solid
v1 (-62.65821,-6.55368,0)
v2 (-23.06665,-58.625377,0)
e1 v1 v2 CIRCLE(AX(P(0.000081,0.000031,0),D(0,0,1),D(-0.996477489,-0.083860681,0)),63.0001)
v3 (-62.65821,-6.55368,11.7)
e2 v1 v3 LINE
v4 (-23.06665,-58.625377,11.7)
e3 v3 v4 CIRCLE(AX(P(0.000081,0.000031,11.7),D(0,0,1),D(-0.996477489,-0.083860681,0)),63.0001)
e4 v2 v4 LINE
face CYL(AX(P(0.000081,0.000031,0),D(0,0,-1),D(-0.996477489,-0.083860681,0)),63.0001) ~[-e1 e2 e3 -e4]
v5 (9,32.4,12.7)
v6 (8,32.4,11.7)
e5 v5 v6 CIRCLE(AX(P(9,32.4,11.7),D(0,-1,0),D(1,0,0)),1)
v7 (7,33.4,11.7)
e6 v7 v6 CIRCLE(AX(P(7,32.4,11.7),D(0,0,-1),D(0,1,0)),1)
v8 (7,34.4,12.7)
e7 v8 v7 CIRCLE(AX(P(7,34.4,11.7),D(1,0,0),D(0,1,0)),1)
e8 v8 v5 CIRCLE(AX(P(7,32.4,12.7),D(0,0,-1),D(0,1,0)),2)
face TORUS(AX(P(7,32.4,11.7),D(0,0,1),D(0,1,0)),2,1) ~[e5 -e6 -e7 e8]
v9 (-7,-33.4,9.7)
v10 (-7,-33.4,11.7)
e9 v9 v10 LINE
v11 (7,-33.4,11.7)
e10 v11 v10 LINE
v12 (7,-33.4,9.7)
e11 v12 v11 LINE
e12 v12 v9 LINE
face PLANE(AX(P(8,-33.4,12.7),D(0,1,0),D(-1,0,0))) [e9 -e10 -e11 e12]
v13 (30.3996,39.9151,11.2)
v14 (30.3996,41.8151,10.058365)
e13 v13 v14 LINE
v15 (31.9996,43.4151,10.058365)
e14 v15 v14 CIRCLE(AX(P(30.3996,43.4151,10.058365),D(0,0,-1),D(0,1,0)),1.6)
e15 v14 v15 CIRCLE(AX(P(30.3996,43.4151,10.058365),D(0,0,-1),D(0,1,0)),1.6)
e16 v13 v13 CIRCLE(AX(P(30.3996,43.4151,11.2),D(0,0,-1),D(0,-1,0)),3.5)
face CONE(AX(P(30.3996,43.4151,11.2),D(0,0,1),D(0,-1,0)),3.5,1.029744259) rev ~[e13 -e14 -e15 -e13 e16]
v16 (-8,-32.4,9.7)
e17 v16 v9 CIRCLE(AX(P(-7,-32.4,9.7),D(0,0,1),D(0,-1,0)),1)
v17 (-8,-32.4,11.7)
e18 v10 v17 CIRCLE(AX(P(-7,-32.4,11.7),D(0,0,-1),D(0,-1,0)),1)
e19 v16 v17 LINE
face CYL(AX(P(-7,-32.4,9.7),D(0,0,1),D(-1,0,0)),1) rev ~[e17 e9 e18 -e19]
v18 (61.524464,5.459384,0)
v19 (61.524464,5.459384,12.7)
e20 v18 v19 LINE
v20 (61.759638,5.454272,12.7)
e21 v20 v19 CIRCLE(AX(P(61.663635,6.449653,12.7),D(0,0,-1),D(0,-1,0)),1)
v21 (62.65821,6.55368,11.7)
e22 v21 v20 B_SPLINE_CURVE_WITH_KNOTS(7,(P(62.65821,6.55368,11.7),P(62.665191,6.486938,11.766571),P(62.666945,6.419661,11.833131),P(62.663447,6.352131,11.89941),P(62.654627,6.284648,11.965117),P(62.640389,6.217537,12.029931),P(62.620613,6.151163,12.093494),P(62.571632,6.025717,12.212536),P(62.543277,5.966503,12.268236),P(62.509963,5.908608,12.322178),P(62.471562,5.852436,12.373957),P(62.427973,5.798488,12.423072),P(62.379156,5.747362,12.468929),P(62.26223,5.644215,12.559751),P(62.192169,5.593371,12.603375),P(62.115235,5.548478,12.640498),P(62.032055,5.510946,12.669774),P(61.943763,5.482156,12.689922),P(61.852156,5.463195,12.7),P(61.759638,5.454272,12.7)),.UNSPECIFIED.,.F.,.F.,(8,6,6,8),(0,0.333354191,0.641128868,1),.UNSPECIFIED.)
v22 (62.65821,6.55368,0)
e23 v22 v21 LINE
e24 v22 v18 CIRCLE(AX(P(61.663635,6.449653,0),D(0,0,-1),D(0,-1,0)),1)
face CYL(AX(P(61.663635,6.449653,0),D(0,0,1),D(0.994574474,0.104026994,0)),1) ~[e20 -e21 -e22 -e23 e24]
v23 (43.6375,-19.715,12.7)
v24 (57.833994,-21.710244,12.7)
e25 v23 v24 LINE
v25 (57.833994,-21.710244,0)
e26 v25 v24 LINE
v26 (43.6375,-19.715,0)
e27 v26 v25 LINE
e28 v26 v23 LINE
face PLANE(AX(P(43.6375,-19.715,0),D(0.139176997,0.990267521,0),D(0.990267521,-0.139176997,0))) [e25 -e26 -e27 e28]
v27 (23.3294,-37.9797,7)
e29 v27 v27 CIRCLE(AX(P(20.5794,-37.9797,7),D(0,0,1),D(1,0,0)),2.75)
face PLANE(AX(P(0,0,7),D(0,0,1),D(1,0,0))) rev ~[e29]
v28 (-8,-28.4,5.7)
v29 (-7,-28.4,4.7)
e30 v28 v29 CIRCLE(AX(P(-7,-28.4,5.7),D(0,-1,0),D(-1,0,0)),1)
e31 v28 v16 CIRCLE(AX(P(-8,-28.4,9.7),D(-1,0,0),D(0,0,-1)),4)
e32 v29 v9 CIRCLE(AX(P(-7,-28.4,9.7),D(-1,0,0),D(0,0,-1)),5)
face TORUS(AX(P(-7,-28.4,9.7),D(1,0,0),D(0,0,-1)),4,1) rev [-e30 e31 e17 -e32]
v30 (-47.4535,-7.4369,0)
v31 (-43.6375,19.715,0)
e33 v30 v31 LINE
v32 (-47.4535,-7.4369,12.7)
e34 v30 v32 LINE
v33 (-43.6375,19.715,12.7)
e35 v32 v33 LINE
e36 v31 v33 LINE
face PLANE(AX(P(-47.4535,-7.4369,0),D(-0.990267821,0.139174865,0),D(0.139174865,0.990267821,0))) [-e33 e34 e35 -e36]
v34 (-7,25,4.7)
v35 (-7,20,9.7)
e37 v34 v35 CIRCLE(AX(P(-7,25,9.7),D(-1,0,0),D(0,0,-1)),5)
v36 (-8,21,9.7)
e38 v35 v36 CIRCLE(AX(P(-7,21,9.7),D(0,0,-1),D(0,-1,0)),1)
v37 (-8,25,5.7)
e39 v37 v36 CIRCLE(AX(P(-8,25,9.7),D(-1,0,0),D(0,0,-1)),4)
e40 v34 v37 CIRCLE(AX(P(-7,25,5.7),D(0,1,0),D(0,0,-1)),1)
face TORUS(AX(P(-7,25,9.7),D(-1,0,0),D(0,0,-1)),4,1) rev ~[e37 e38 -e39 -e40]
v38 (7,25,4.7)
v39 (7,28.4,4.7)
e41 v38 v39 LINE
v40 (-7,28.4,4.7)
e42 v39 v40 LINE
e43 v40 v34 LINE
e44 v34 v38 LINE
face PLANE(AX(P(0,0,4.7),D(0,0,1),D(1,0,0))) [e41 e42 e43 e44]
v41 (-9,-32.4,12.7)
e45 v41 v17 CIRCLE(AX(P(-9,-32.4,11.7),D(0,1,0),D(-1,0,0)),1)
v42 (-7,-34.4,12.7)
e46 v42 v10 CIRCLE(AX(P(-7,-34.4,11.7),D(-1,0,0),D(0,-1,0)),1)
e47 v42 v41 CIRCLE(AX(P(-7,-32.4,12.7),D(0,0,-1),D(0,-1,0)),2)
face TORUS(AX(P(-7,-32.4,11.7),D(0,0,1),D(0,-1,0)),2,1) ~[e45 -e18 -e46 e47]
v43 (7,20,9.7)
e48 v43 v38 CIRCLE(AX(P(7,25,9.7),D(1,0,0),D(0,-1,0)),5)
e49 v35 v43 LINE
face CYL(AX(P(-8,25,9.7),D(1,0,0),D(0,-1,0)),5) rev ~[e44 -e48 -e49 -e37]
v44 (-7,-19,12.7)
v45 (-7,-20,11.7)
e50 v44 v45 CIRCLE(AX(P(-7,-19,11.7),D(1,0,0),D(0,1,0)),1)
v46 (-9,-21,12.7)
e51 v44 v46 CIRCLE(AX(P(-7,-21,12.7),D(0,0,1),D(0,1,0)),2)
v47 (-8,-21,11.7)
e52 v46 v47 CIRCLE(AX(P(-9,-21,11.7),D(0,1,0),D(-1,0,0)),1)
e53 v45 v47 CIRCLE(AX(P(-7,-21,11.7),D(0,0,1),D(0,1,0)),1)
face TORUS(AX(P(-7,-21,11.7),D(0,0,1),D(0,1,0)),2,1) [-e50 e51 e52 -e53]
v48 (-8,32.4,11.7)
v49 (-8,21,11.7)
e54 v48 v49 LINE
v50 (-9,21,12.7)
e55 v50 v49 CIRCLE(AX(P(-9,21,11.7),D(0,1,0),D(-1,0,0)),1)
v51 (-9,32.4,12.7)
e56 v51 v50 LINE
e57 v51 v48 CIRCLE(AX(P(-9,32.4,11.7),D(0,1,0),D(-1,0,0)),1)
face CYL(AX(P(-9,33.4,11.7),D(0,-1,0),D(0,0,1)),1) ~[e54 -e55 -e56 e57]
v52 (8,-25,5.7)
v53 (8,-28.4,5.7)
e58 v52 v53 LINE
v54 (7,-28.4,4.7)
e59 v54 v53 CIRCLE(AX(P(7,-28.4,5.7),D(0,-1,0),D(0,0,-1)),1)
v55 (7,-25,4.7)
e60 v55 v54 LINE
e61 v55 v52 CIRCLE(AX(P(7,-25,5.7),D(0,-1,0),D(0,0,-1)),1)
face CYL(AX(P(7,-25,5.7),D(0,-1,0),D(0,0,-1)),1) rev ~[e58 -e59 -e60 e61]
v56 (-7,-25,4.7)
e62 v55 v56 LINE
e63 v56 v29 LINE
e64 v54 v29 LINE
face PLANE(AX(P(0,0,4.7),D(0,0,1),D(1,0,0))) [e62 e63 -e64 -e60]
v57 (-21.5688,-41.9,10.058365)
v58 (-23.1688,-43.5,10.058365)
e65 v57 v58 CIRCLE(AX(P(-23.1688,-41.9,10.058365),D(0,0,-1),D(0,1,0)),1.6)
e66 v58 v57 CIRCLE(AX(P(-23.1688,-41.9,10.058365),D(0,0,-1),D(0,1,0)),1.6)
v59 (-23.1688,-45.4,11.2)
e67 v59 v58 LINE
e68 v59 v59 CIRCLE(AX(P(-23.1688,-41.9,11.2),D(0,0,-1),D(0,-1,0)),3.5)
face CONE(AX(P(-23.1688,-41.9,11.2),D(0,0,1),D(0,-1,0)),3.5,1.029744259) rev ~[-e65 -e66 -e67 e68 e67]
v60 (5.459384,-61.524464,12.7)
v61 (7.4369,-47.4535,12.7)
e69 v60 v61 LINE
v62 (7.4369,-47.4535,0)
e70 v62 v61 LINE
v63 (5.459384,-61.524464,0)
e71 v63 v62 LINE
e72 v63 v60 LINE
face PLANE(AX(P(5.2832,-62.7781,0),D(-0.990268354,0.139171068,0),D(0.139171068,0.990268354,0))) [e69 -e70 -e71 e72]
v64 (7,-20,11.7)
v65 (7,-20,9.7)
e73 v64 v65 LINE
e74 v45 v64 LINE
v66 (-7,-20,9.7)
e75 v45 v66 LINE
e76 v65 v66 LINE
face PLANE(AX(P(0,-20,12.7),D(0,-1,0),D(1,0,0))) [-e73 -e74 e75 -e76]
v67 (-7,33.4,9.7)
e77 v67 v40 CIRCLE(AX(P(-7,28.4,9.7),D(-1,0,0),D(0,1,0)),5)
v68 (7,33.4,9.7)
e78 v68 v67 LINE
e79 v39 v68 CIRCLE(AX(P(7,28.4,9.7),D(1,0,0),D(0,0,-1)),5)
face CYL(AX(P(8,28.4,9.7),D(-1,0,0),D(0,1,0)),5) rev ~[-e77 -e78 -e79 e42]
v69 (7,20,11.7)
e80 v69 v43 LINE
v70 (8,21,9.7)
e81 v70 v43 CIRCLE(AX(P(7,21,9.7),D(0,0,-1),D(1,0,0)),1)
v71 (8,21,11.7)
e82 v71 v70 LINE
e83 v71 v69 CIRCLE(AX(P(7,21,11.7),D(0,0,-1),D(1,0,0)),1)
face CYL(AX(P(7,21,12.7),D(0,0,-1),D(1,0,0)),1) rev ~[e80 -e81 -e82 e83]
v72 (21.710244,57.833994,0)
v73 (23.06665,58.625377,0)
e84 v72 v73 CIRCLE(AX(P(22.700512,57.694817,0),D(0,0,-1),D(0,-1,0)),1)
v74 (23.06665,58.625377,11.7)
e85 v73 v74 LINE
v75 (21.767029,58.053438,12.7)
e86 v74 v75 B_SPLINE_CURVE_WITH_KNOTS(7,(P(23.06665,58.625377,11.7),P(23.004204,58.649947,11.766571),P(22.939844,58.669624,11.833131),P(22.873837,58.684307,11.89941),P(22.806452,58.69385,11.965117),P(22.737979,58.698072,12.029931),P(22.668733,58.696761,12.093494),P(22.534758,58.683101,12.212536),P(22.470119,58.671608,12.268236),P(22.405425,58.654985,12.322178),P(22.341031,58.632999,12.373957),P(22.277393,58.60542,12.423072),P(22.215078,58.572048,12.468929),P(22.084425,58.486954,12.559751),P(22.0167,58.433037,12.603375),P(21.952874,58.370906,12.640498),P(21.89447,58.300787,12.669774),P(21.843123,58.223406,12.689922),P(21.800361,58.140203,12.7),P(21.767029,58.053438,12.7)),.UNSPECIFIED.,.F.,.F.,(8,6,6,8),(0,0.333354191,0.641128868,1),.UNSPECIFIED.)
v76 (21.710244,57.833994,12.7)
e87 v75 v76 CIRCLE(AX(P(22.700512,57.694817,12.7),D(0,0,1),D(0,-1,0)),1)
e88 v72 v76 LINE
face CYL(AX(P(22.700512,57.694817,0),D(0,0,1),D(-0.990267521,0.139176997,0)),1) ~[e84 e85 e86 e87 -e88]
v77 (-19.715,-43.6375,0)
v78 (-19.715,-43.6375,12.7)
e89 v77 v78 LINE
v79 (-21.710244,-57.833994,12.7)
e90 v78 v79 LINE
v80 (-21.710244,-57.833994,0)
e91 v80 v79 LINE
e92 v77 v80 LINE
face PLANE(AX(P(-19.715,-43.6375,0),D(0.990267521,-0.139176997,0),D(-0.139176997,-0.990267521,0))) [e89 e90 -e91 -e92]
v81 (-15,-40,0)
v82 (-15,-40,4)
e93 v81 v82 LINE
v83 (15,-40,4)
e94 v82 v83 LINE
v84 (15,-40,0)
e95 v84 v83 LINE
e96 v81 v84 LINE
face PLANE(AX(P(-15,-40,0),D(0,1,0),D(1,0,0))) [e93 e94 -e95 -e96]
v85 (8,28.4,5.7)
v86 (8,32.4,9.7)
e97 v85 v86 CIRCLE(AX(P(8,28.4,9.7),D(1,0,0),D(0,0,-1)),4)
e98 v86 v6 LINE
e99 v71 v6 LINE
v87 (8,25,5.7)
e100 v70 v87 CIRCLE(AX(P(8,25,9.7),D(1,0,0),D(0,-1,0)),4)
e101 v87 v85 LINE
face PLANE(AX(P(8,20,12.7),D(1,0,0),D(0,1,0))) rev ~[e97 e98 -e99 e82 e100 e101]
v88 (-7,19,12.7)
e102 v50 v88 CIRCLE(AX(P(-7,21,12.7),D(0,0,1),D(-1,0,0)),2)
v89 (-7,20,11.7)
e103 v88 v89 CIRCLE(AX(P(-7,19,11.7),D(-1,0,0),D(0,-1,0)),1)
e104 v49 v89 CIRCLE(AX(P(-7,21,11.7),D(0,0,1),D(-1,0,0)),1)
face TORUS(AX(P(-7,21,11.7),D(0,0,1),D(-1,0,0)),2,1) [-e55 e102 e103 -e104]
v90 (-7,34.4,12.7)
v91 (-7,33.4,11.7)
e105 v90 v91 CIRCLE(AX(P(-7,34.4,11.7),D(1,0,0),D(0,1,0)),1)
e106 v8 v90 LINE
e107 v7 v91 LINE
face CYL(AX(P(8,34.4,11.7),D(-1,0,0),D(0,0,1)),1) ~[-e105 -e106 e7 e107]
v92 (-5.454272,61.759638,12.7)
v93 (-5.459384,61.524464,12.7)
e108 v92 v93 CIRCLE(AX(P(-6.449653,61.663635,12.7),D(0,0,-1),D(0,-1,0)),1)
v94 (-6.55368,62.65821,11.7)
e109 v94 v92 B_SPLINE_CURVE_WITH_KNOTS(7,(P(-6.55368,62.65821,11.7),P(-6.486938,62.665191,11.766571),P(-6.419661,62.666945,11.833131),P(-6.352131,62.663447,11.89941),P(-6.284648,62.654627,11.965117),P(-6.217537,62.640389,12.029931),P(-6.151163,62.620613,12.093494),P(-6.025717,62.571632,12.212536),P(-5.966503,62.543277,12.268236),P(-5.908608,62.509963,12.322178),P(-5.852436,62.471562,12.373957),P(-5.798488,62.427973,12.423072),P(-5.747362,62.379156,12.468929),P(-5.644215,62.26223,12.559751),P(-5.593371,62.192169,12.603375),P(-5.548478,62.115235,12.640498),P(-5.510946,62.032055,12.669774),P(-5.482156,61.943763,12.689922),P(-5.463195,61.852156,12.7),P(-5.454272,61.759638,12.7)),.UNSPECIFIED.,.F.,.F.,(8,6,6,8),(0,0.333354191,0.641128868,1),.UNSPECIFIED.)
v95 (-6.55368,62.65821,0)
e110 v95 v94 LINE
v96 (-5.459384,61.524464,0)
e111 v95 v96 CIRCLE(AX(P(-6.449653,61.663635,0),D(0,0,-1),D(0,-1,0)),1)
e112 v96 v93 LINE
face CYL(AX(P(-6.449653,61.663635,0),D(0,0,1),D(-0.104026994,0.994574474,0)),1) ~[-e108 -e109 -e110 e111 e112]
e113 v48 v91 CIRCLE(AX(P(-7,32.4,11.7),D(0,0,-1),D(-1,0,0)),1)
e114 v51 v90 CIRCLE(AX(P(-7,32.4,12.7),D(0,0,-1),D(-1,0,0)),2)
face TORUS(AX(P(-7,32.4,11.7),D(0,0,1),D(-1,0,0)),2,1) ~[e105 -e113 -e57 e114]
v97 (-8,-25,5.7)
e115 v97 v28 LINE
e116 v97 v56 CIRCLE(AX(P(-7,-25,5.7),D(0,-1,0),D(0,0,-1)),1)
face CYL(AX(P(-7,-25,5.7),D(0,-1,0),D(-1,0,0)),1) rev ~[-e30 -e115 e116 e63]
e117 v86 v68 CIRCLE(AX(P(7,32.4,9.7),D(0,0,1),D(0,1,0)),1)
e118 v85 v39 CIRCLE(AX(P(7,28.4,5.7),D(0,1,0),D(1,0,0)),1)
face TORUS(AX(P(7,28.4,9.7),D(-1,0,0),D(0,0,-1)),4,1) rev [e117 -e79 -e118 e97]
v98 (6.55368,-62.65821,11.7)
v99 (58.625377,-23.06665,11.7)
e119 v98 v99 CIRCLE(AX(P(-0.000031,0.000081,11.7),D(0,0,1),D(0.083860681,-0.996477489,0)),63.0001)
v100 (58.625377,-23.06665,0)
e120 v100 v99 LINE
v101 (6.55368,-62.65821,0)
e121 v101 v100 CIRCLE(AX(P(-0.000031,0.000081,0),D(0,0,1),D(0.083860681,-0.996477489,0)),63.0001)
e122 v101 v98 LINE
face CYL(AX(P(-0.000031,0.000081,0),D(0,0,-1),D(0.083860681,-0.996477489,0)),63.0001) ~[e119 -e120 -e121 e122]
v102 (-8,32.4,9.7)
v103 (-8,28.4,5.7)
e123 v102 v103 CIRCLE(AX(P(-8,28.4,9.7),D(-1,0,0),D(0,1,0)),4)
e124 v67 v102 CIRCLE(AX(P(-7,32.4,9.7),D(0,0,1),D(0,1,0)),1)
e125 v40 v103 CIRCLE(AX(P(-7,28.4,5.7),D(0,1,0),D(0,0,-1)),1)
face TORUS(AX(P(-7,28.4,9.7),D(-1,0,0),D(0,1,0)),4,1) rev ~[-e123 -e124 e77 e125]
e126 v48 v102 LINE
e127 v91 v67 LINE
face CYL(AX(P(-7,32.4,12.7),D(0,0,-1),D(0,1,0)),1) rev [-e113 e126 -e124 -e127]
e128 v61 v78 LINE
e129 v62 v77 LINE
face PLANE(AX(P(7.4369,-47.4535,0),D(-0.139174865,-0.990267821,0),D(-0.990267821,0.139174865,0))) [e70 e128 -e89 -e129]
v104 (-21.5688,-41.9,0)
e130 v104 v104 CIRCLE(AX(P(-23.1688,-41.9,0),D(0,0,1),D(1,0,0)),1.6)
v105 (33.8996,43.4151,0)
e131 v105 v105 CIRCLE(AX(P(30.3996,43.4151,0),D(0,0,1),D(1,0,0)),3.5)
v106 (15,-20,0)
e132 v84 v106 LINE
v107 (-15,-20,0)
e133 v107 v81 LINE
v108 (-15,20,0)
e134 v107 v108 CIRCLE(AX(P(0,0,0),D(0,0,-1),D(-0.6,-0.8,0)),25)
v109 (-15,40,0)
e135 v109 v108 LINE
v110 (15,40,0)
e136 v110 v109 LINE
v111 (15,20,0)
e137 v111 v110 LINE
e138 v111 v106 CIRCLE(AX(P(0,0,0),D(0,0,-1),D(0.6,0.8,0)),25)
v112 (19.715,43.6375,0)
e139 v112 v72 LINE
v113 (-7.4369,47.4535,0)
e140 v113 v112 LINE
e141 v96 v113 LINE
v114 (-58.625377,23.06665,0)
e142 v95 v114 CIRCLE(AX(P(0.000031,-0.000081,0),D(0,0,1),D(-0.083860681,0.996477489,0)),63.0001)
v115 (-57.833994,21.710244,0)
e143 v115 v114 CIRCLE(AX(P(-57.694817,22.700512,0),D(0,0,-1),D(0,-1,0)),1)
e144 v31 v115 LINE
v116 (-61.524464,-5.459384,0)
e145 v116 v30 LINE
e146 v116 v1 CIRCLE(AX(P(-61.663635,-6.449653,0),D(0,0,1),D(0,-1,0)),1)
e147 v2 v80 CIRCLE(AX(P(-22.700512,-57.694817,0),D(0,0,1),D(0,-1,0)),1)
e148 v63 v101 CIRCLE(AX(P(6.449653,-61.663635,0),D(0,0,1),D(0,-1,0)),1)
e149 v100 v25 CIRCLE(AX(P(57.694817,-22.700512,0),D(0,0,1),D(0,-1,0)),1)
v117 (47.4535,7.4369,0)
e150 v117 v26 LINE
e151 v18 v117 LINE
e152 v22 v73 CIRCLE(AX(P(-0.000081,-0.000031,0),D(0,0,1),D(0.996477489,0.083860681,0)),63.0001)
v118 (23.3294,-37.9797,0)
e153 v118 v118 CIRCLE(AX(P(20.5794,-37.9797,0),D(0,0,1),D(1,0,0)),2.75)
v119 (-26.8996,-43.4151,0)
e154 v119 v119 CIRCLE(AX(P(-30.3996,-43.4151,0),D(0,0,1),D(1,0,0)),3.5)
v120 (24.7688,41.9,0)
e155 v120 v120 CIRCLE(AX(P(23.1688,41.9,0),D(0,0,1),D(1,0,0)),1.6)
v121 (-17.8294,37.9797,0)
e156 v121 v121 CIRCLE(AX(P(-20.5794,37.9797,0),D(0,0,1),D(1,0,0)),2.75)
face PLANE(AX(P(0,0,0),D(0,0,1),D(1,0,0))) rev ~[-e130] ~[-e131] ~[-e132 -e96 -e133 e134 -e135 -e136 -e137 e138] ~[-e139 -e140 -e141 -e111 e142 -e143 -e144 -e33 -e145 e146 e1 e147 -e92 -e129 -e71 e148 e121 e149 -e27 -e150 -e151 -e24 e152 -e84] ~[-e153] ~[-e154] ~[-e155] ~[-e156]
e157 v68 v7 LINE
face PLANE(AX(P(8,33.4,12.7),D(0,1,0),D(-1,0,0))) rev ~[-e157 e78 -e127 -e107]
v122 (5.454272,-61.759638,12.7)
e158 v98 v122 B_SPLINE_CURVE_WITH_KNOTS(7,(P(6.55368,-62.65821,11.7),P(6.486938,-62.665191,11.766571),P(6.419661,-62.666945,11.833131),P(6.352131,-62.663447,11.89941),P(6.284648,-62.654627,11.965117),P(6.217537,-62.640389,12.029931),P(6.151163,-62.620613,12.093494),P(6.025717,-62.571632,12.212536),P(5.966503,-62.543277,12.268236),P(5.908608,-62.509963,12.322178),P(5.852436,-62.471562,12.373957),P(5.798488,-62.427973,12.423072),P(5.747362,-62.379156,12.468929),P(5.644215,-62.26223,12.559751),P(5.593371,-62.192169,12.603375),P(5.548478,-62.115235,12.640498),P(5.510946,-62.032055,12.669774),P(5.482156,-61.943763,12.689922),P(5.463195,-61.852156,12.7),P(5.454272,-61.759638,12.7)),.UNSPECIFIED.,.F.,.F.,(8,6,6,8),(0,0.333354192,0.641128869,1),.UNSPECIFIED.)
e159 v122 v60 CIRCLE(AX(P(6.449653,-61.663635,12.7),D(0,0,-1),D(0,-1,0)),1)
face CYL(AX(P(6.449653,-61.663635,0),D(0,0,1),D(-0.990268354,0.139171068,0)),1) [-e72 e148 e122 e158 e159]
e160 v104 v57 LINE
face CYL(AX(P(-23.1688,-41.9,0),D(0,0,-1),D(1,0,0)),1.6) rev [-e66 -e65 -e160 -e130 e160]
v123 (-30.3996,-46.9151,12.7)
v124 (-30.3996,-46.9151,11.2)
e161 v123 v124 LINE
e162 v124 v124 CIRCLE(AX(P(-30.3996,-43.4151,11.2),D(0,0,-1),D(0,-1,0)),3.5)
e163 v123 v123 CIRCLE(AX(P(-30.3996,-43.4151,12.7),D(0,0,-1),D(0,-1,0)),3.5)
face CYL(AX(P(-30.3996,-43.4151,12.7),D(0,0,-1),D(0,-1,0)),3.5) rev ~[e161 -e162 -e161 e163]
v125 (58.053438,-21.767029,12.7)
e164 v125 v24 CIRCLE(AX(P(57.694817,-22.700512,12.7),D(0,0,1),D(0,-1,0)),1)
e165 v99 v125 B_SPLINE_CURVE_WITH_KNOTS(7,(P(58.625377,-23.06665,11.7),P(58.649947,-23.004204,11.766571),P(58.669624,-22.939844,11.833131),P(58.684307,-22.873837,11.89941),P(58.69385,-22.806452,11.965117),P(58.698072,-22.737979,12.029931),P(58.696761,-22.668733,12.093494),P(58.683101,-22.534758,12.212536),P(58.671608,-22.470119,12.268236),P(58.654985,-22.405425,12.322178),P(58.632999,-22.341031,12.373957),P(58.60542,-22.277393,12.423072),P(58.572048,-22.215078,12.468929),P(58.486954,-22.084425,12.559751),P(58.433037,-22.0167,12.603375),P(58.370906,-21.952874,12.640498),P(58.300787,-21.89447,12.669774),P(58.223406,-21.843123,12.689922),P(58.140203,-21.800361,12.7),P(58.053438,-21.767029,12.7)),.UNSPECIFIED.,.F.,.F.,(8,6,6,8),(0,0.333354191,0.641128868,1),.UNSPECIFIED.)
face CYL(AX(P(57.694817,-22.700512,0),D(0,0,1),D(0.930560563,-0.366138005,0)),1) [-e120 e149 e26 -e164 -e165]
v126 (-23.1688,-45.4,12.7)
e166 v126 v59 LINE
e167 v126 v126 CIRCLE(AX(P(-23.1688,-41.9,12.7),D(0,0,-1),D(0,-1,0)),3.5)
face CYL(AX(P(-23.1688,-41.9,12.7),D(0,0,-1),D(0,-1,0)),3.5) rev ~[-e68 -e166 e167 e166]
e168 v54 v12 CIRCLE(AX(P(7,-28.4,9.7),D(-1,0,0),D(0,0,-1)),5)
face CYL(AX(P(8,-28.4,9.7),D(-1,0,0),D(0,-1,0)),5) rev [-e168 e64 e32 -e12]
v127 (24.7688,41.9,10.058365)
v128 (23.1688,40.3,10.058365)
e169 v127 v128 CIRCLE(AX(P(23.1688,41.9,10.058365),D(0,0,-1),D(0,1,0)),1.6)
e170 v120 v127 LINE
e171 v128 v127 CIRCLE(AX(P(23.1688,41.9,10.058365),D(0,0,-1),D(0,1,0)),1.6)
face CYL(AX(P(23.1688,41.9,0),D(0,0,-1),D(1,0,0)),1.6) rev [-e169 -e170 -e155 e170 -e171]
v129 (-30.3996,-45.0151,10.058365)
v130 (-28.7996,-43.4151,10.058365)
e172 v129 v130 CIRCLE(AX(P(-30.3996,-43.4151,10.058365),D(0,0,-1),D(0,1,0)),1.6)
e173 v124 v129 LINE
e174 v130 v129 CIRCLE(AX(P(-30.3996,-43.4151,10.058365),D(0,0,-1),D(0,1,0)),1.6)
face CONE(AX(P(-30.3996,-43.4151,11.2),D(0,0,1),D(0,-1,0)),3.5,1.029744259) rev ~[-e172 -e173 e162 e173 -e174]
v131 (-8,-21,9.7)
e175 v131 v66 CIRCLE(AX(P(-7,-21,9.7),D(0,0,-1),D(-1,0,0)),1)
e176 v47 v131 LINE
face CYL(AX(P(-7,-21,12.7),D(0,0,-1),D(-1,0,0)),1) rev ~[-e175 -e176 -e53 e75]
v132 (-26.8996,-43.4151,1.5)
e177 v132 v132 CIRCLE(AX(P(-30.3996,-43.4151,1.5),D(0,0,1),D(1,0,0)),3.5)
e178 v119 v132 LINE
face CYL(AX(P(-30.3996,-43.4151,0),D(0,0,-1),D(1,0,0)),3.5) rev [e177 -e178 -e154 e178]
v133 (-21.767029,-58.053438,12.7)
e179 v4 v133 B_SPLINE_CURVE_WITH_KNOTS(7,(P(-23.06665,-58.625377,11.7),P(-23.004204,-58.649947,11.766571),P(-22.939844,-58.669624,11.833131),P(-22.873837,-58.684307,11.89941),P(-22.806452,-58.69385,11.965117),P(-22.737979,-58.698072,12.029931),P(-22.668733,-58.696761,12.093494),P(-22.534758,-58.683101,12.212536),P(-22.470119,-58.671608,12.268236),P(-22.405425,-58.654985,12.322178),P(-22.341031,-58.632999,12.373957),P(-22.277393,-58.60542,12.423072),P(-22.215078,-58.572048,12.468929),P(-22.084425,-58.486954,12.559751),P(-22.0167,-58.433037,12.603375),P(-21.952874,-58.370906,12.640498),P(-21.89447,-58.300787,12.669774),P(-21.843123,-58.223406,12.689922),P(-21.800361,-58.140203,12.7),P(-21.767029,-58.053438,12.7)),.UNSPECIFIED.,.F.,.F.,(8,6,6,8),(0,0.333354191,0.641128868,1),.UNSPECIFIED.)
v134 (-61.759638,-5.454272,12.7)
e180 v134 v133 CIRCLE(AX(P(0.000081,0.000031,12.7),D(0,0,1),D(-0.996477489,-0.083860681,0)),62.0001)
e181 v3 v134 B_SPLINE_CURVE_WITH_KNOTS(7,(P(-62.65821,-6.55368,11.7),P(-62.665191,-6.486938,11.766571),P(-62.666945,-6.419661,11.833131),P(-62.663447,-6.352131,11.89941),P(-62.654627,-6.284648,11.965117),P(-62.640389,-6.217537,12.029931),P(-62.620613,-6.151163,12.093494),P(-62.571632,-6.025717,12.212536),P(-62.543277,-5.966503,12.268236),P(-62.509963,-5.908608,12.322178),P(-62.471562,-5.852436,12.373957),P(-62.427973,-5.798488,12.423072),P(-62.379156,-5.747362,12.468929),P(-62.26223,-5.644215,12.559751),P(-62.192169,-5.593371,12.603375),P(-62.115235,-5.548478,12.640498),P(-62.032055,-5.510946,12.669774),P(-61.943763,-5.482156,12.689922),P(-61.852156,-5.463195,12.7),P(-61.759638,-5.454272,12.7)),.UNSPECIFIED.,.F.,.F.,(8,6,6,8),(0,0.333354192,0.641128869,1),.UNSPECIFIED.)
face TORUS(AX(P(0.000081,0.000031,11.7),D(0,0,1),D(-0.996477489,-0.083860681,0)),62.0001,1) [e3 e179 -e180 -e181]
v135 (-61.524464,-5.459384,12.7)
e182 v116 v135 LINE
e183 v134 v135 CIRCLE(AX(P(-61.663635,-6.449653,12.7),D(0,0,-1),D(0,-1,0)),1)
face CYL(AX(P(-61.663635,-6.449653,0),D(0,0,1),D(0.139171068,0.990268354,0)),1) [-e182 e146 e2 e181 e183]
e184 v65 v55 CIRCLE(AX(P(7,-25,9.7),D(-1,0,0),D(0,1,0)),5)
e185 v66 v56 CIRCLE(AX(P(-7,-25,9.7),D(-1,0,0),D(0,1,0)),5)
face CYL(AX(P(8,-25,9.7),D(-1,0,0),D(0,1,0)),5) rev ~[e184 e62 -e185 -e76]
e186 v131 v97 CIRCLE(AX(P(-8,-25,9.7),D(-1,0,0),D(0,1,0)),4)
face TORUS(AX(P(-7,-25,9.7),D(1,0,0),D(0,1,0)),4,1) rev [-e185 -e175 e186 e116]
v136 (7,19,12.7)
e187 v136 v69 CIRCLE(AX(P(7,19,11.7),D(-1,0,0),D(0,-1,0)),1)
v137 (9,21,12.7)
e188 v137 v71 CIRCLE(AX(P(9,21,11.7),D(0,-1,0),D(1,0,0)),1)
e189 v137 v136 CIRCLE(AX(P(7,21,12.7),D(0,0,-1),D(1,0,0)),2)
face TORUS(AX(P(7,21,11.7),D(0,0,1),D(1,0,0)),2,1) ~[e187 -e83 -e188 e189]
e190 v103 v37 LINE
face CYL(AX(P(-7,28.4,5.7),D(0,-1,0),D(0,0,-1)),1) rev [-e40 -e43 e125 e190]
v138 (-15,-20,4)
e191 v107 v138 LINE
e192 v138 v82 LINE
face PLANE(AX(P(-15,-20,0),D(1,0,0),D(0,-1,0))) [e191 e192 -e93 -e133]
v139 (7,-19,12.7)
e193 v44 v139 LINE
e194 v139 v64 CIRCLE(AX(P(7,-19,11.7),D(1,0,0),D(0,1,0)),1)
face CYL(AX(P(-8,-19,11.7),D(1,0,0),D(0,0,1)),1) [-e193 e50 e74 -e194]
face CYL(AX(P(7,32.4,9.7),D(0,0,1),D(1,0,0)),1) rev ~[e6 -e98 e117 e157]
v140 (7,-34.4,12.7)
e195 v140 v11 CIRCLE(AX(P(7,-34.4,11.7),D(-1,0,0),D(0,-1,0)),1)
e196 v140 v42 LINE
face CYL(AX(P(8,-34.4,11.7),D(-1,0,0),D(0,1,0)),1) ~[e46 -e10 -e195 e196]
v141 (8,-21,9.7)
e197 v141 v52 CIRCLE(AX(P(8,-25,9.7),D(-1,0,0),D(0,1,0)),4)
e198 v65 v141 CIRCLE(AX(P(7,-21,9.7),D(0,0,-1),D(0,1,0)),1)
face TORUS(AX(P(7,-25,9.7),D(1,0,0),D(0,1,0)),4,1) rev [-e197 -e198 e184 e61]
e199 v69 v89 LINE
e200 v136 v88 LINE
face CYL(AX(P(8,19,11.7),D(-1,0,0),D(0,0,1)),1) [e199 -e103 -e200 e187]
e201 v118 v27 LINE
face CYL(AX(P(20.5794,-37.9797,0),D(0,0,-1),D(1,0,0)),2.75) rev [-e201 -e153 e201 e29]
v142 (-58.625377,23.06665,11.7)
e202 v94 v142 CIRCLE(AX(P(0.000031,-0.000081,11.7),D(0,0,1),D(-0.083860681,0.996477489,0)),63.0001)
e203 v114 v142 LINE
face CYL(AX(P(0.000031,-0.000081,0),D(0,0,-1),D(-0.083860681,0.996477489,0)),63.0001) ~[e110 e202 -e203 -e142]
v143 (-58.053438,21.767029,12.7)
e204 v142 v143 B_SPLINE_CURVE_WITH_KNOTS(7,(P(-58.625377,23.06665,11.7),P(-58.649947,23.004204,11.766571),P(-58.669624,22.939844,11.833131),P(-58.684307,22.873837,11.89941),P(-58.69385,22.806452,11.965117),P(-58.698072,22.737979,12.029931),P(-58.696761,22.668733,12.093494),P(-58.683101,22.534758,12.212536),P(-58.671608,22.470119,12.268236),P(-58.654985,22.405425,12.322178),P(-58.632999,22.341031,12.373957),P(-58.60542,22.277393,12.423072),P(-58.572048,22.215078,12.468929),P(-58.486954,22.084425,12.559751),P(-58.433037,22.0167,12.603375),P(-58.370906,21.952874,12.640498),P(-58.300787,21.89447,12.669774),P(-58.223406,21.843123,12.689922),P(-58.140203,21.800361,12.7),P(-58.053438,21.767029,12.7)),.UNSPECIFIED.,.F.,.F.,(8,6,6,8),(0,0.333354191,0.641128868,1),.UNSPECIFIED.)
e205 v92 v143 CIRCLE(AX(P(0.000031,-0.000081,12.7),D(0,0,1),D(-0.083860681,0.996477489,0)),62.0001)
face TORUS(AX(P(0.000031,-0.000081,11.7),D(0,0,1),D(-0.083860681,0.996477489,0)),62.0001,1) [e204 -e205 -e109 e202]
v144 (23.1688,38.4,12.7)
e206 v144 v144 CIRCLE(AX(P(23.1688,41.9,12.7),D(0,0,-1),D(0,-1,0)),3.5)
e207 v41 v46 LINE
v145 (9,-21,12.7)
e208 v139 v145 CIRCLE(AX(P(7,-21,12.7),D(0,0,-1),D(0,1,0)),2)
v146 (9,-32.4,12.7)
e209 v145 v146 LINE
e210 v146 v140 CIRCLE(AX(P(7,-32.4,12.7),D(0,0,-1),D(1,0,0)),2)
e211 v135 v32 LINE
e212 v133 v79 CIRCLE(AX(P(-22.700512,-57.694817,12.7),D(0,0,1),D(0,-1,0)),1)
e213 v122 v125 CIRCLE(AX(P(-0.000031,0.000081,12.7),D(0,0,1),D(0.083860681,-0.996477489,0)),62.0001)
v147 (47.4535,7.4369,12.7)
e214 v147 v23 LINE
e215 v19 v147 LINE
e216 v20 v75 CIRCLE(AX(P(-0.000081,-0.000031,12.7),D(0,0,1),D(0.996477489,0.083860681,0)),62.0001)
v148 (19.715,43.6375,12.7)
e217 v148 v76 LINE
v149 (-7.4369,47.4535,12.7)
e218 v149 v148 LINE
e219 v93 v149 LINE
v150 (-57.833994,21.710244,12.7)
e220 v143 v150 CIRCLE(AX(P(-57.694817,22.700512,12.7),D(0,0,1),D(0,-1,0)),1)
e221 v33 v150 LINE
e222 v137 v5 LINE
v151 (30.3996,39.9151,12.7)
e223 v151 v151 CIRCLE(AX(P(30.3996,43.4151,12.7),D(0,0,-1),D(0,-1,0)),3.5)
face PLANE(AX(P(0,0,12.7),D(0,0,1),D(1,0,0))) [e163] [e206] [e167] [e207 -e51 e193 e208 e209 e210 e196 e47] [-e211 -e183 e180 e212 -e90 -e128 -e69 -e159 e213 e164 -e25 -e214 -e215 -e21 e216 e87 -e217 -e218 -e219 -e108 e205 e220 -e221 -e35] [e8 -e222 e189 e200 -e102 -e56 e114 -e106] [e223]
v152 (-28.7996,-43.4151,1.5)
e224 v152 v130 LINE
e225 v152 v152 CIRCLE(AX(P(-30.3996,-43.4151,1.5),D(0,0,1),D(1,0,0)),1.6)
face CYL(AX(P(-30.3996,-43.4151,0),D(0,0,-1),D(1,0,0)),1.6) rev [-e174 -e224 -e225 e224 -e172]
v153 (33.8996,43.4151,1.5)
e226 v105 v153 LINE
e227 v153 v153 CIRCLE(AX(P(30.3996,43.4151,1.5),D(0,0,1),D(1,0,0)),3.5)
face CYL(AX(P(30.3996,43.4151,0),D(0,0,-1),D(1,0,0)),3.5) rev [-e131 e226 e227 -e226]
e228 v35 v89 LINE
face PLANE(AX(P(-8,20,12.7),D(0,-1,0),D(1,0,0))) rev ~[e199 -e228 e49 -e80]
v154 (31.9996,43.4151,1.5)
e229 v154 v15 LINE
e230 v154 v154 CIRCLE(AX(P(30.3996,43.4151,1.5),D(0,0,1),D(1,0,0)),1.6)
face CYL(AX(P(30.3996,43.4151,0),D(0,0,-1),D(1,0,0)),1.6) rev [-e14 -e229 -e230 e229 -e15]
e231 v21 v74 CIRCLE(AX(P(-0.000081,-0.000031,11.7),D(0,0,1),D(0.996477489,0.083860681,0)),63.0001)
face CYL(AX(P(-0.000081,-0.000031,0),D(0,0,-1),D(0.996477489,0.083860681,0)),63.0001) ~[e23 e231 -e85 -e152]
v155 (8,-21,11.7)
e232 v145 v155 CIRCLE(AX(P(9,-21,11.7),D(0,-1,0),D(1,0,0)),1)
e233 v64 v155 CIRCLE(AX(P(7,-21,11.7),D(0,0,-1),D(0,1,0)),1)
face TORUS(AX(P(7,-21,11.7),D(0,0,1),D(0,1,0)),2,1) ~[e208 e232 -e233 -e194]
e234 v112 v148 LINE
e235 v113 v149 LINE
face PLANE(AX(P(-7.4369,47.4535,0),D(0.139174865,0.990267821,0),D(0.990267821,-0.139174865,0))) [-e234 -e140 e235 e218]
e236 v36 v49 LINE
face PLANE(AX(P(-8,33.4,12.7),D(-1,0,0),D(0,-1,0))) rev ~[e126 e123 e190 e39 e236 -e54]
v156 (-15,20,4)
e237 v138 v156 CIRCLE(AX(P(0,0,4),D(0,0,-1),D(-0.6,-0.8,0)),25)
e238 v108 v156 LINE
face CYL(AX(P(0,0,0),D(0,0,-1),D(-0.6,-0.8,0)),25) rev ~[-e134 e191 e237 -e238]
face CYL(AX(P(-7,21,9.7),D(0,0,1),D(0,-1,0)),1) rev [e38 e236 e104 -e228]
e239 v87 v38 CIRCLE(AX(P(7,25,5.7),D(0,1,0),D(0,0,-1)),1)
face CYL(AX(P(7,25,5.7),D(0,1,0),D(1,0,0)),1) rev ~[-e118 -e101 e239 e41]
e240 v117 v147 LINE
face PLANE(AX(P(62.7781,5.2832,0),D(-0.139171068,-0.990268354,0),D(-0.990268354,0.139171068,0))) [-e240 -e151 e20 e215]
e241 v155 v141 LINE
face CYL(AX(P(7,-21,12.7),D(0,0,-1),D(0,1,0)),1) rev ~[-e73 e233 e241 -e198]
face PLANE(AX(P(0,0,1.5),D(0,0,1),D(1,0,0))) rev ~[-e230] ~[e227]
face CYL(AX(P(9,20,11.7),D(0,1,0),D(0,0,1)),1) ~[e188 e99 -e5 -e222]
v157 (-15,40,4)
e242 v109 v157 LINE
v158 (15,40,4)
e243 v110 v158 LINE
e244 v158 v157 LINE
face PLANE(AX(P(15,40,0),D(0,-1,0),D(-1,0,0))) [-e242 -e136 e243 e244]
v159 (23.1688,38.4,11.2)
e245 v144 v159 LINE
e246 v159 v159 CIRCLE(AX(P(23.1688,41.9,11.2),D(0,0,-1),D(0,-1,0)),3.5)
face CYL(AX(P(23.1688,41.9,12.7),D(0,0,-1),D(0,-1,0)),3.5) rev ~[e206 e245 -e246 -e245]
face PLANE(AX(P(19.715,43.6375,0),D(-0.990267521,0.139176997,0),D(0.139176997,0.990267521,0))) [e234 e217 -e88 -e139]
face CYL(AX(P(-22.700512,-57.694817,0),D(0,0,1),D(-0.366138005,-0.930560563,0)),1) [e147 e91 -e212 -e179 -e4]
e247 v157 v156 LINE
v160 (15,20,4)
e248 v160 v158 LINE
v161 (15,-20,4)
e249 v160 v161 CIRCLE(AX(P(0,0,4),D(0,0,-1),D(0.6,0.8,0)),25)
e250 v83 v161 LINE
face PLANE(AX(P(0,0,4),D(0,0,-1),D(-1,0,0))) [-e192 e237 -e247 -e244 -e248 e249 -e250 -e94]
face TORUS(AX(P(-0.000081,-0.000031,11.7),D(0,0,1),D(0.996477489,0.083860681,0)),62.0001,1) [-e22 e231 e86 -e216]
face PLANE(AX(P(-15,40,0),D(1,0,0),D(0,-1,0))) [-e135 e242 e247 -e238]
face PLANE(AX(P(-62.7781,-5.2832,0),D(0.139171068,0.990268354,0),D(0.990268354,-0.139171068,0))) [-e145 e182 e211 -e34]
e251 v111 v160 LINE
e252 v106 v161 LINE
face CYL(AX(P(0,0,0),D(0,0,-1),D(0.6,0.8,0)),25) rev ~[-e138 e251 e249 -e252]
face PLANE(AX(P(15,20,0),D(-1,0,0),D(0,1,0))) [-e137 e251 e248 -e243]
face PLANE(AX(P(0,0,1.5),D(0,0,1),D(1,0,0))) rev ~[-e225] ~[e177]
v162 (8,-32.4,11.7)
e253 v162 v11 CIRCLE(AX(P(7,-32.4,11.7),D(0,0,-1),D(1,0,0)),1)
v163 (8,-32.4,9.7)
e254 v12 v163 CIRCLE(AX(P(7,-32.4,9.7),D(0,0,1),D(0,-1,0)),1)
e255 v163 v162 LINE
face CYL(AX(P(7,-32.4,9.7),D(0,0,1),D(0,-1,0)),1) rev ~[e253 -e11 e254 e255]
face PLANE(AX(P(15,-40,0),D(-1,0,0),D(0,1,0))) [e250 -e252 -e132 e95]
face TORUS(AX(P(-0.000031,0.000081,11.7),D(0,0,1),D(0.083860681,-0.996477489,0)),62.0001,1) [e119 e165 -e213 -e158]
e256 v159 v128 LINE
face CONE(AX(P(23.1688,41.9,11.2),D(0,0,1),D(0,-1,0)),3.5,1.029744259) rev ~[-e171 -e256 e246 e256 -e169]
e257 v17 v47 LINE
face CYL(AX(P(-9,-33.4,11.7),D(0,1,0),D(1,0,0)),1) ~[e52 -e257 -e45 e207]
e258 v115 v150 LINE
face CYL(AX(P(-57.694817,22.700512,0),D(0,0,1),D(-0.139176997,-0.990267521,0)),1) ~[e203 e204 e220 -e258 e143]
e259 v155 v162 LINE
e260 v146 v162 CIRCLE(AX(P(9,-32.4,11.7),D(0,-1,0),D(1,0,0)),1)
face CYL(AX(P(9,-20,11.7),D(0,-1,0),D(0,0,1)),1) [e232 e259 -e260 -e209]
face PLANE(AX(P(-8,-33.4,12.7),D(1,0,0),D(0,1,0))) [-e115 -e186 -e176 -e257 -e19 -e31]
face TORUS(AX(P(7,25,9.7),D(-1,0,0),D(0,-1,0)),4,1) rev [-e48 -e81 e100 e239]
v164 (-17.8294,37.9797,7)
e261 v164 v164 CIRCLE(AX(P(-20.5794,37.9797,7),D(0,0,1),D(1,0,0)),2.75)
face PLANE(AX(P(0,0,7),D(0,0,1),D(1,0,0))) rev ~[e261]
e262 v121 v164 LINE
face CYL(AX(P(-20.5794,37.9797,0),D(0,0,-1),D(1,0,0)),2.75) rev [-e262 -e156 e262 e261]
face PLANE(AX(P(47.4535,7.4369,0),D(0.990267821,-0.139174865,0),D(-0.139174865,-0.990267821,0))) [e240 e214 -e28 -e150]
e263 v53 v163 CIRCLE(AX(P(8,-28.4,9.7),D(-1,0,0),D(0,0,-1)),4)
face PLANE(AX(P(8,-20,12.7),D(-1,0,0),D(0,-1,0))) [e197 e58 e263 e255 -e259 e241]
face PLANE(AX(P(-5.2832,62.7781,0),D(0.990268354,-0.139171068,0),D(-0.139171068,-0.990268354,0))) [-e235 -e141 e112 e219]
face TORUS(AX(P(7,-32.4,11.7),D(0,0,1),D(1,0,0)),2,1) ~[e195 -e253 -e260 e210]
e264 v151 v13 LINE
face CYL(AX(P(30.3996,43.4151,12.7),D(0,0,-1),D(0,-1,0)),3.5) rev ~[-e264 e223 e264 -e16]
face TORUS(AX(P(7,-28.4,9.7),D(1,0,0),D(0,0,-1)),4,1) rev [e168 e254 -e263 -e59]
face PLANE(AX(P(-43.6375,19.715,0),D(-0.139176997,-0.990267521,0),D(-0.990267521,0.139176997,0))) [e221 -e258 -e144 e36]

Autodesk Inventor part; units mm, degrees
ref_plane "YZ Plane" through (0, 0, 0) normal (1, 0, 0) x (0, 1, 0)
ref_plane "XZ Plane" through (0, 0, 0) normal (0, 1, 0) x (-1, 0, 0)
ref_plane "XY Plane" through (0, 0, 0) normal (0, 0, 1) x (1, 0, 0)
sketch "Sketch1" plane through (0, 0, 0) normal (0, 0, 1) x (1, 0, 0)
  circle A0 centre (-23.1688, -41.9) radius 3.5
  circle A1 centre (23.1688, 41.9) radius 3.5
  circle A2 centre (-30.3996, -43.4151) radius 3.5
  circle A3 centre (30.3996, 43.4151) radius 3.5
  circle A4 centre (-20.5794, 37.9797) radius 2.75
  circle A5 centre (20.5794, -37.9797) radius 2.75
  circle A6 centre (-30.3996, -43.4151) radius 1.6
  circle A7 centre (-23.1688, -41.9) radius 1.6
  circle A8 centre (23.1688, 41.9) radius 1.6
  circle A9 centre (30.3996, 43.4151) radius 1.6
  line L0 (-62.7781, -5.2832) -> (-47.4535, -7.4369)
  line L1 (-47.4535, -7.4369) -> (-43.6375, 19.715)
  line L2 (-43.6375, 19.715) -> (-59.0767, 21.8849)
  line L3 (5.2832, -62.7781) -> (7.4369, -47.4535)
  line L4 (7.4369, -47.4535) -> (-19.715, -43.6375)
  line L5 (-19.715, -43.6375) -> (-21.8849, -59.0767)
  line L6 (62.7781, 5.2832) -> (47.4535, 7.4369)
  line L7 (47.4535, 7.4369) -> (43.6375, -19.715)
  line L8 (43.6375, -19.715) -> (59.0767, -21.8849)
  line L9 (-5.2832, 62.7781) -> (-7.4369, 47.4535)
  line L10 (-7.4369, 47.4535) -> (19.715, 43.6375)
  line L11 (19.715, 43.6375) -> (21.8849, 59.0767)
  arc A10 (-5.2832, 62.7781) -> (-59.0767, 21.8849) centre (0, 0) ccw
  arc A11 (62.7781, 5.2832) -> (21.8849, 59.0767) centre (0, 0) ccw
  arc A12 (-62.7781, -5.2832) -> (-21.8849, -59.0767) centre (0, 0) ccw
  arc A13 (5.2832, -62.7781) -> (59.0767, -21.8849) centre (0, 0) ccw
  dimension "d0" = 3.2
  dimension "d1" = 3.2
  dimension "d2" = 3.2
  dimension "d3" = 3.2
  dimension "d8" = 360
extrude "Extrusion1" add sketch "Sketch1" along normal blind 12.7 contours A0 | A1 | A2 | A3 | A4 | A5 | L0 L1 L2 A10 L9 L10 L11 A11 L6 L7 L8 A13 L3 L4 L5 A12
extrude "Extrusion2" cut sketch "Sketch1" along normal blind 7 contours A4 | A5
hole "Hole1" at (30.3996, 43.4151, 12.7) direction (0, 0, -1) diameter 7 depth 1.5 tip angle 118
hole "Hole2" at (23.1688, 41.9, 12.7) direction (0, 0, -1) diameter 7 depth 1.5 tip angle 118
hole "Hole3" at (-23.1688, -41.9, 12.7) direction (0, 0, -1) diameter 7 depth 1.5 tip angle 118
hole "Hole4" at (-30.3996, -43.4151, 12.7) direction (0, 0, -1) diameter 7 depth 1.5 tip angle 118
extrude "Extrusion3" cut sketch "Sketch1" along normal blind 1.5 contours A2 | A3
sketch "Sketch3" plane through (0, 0, 0) normal (0, 0, -1) x (-1, 0, 0)
  arc A0 (21.8849, -59.0767) -> (62.7781, -5.2832) centre (0, 0) ccw projected
  line L0 (-15, 20) -> (-15, 40)
  line L1 (-15, 40) -> (15, 40)
  line L2 (15, -40) -> (-15, -40)
  line L3 (-15, -40) -> (-15, -20)
  line L4 (15, 40) -> (15, 20)
  line L5 (15, -20) -> (15, -40)
  arc A1 (-15, 20) -> (-15, -20) centre (0, 0) ccw
  arc A2 (15, -20) -> (15, 20) centre (0, 0) ccw
extrude "Extrusion4" cut sketch "Sketch3" against normal blind 4
sketch "Sketch4" plane through (0, 0, 12.7) normal (0, 0, 1) x (1, 0, 0)
  line L0 (0, 20) -> (8, 20)
  line L1 (8, 20) -> (8, 33.4)
  line L2 (8, 33.4) -> (-8, 33.4)
  line L3 (-8, 33.4) -> (-8, 20)
  line L4 (-8, 20) -> (0, 20)
  line L5 (0, -20) -> (8, -20)
  line L6 (8, -20) -> (8, -33.4)
  line L7 (8, -33.4) -> (-8, -33.4)
  line L8 (-8, -33.4) -> (-8, -20)
  line L9 (-8, -20) -> (0, -20)
  arc A0 (-62.7781, -5.2832) -> (-21.8849, -59.0767) centre (0, 0) ccw projected
  arc A1 (5.2832, -62.7781) -> (59.0767, -21.8849) centre (0, 0) ccw projected
  dimension "d67" = 33.4
  dimension "d68" = 20
  dimension "d69" = 33.4
  dimension "d70" = 20
extrude "Extrusion5" cut sketch "Sketch4" against normal blind 8
fillet "Fillet1" radius 1 12 edges at (-50.1537, -38.1263, 12.7) (-38.1263, 50.1537, 12.7) (50.1537, 38.1263, 12.7) (38.1263, -50.1537, 12.7) (-21.8849, -59.0767, 6.35) (5.2832, -62.7781, 6.35) (59.0767, -21.8849, 6.35) (62.7781, 5.2832, 6.35) (21.8849, 59.0767, 6.35) (-5.2832, 62.7781, 6.35) (-59.0767, 21.8849, 6.35) (-62.7781, -5.2832, 6.35)
fillet "Fillet2" radius 5 4 edges at (0, -20, 4.7) (0, 20, 4.7) (0, -33.4, 4.7) (0, 33.4, 4.7)
fillet "Fillet3" radius 1 28 edges at (0, -20, 12.7) (8, -26.7, 12.7) (0, -33.4, 12.7) (-8, -26.7, 12.7) (-8, 26.7, 12.7) (0, 33.4, 12.7) (8, 26.7, 12.7) (0, 20, 12.7) (-8, 33.4, 11.2) (-8, 26.7, 4.7) (-8, 21.4645, 6.1645) (-8, 20, 11.2) (-8, 31.9355, 6.1645) (8, 21.4645, 6.1645) (8, 26.7, 4.7) (8, 31.9355, 6.1645) (8, 33.4, 11.2) (8, 20, 11.2) (8, -26.7, 4.7) (8, -31.9355, 6.1645) (8, -33.4, 11.2) (8, -20, 11.2) (8, -21.4645, 6.1645) (-8, -21.4645, 6.1645) (-8, -26.7, 4.7) (-8, -31.9355, 6.1645) (-8, -33.4, 11.2) (-8, -20, 11.2)
properties part number "Outlet Cover [Top]"
